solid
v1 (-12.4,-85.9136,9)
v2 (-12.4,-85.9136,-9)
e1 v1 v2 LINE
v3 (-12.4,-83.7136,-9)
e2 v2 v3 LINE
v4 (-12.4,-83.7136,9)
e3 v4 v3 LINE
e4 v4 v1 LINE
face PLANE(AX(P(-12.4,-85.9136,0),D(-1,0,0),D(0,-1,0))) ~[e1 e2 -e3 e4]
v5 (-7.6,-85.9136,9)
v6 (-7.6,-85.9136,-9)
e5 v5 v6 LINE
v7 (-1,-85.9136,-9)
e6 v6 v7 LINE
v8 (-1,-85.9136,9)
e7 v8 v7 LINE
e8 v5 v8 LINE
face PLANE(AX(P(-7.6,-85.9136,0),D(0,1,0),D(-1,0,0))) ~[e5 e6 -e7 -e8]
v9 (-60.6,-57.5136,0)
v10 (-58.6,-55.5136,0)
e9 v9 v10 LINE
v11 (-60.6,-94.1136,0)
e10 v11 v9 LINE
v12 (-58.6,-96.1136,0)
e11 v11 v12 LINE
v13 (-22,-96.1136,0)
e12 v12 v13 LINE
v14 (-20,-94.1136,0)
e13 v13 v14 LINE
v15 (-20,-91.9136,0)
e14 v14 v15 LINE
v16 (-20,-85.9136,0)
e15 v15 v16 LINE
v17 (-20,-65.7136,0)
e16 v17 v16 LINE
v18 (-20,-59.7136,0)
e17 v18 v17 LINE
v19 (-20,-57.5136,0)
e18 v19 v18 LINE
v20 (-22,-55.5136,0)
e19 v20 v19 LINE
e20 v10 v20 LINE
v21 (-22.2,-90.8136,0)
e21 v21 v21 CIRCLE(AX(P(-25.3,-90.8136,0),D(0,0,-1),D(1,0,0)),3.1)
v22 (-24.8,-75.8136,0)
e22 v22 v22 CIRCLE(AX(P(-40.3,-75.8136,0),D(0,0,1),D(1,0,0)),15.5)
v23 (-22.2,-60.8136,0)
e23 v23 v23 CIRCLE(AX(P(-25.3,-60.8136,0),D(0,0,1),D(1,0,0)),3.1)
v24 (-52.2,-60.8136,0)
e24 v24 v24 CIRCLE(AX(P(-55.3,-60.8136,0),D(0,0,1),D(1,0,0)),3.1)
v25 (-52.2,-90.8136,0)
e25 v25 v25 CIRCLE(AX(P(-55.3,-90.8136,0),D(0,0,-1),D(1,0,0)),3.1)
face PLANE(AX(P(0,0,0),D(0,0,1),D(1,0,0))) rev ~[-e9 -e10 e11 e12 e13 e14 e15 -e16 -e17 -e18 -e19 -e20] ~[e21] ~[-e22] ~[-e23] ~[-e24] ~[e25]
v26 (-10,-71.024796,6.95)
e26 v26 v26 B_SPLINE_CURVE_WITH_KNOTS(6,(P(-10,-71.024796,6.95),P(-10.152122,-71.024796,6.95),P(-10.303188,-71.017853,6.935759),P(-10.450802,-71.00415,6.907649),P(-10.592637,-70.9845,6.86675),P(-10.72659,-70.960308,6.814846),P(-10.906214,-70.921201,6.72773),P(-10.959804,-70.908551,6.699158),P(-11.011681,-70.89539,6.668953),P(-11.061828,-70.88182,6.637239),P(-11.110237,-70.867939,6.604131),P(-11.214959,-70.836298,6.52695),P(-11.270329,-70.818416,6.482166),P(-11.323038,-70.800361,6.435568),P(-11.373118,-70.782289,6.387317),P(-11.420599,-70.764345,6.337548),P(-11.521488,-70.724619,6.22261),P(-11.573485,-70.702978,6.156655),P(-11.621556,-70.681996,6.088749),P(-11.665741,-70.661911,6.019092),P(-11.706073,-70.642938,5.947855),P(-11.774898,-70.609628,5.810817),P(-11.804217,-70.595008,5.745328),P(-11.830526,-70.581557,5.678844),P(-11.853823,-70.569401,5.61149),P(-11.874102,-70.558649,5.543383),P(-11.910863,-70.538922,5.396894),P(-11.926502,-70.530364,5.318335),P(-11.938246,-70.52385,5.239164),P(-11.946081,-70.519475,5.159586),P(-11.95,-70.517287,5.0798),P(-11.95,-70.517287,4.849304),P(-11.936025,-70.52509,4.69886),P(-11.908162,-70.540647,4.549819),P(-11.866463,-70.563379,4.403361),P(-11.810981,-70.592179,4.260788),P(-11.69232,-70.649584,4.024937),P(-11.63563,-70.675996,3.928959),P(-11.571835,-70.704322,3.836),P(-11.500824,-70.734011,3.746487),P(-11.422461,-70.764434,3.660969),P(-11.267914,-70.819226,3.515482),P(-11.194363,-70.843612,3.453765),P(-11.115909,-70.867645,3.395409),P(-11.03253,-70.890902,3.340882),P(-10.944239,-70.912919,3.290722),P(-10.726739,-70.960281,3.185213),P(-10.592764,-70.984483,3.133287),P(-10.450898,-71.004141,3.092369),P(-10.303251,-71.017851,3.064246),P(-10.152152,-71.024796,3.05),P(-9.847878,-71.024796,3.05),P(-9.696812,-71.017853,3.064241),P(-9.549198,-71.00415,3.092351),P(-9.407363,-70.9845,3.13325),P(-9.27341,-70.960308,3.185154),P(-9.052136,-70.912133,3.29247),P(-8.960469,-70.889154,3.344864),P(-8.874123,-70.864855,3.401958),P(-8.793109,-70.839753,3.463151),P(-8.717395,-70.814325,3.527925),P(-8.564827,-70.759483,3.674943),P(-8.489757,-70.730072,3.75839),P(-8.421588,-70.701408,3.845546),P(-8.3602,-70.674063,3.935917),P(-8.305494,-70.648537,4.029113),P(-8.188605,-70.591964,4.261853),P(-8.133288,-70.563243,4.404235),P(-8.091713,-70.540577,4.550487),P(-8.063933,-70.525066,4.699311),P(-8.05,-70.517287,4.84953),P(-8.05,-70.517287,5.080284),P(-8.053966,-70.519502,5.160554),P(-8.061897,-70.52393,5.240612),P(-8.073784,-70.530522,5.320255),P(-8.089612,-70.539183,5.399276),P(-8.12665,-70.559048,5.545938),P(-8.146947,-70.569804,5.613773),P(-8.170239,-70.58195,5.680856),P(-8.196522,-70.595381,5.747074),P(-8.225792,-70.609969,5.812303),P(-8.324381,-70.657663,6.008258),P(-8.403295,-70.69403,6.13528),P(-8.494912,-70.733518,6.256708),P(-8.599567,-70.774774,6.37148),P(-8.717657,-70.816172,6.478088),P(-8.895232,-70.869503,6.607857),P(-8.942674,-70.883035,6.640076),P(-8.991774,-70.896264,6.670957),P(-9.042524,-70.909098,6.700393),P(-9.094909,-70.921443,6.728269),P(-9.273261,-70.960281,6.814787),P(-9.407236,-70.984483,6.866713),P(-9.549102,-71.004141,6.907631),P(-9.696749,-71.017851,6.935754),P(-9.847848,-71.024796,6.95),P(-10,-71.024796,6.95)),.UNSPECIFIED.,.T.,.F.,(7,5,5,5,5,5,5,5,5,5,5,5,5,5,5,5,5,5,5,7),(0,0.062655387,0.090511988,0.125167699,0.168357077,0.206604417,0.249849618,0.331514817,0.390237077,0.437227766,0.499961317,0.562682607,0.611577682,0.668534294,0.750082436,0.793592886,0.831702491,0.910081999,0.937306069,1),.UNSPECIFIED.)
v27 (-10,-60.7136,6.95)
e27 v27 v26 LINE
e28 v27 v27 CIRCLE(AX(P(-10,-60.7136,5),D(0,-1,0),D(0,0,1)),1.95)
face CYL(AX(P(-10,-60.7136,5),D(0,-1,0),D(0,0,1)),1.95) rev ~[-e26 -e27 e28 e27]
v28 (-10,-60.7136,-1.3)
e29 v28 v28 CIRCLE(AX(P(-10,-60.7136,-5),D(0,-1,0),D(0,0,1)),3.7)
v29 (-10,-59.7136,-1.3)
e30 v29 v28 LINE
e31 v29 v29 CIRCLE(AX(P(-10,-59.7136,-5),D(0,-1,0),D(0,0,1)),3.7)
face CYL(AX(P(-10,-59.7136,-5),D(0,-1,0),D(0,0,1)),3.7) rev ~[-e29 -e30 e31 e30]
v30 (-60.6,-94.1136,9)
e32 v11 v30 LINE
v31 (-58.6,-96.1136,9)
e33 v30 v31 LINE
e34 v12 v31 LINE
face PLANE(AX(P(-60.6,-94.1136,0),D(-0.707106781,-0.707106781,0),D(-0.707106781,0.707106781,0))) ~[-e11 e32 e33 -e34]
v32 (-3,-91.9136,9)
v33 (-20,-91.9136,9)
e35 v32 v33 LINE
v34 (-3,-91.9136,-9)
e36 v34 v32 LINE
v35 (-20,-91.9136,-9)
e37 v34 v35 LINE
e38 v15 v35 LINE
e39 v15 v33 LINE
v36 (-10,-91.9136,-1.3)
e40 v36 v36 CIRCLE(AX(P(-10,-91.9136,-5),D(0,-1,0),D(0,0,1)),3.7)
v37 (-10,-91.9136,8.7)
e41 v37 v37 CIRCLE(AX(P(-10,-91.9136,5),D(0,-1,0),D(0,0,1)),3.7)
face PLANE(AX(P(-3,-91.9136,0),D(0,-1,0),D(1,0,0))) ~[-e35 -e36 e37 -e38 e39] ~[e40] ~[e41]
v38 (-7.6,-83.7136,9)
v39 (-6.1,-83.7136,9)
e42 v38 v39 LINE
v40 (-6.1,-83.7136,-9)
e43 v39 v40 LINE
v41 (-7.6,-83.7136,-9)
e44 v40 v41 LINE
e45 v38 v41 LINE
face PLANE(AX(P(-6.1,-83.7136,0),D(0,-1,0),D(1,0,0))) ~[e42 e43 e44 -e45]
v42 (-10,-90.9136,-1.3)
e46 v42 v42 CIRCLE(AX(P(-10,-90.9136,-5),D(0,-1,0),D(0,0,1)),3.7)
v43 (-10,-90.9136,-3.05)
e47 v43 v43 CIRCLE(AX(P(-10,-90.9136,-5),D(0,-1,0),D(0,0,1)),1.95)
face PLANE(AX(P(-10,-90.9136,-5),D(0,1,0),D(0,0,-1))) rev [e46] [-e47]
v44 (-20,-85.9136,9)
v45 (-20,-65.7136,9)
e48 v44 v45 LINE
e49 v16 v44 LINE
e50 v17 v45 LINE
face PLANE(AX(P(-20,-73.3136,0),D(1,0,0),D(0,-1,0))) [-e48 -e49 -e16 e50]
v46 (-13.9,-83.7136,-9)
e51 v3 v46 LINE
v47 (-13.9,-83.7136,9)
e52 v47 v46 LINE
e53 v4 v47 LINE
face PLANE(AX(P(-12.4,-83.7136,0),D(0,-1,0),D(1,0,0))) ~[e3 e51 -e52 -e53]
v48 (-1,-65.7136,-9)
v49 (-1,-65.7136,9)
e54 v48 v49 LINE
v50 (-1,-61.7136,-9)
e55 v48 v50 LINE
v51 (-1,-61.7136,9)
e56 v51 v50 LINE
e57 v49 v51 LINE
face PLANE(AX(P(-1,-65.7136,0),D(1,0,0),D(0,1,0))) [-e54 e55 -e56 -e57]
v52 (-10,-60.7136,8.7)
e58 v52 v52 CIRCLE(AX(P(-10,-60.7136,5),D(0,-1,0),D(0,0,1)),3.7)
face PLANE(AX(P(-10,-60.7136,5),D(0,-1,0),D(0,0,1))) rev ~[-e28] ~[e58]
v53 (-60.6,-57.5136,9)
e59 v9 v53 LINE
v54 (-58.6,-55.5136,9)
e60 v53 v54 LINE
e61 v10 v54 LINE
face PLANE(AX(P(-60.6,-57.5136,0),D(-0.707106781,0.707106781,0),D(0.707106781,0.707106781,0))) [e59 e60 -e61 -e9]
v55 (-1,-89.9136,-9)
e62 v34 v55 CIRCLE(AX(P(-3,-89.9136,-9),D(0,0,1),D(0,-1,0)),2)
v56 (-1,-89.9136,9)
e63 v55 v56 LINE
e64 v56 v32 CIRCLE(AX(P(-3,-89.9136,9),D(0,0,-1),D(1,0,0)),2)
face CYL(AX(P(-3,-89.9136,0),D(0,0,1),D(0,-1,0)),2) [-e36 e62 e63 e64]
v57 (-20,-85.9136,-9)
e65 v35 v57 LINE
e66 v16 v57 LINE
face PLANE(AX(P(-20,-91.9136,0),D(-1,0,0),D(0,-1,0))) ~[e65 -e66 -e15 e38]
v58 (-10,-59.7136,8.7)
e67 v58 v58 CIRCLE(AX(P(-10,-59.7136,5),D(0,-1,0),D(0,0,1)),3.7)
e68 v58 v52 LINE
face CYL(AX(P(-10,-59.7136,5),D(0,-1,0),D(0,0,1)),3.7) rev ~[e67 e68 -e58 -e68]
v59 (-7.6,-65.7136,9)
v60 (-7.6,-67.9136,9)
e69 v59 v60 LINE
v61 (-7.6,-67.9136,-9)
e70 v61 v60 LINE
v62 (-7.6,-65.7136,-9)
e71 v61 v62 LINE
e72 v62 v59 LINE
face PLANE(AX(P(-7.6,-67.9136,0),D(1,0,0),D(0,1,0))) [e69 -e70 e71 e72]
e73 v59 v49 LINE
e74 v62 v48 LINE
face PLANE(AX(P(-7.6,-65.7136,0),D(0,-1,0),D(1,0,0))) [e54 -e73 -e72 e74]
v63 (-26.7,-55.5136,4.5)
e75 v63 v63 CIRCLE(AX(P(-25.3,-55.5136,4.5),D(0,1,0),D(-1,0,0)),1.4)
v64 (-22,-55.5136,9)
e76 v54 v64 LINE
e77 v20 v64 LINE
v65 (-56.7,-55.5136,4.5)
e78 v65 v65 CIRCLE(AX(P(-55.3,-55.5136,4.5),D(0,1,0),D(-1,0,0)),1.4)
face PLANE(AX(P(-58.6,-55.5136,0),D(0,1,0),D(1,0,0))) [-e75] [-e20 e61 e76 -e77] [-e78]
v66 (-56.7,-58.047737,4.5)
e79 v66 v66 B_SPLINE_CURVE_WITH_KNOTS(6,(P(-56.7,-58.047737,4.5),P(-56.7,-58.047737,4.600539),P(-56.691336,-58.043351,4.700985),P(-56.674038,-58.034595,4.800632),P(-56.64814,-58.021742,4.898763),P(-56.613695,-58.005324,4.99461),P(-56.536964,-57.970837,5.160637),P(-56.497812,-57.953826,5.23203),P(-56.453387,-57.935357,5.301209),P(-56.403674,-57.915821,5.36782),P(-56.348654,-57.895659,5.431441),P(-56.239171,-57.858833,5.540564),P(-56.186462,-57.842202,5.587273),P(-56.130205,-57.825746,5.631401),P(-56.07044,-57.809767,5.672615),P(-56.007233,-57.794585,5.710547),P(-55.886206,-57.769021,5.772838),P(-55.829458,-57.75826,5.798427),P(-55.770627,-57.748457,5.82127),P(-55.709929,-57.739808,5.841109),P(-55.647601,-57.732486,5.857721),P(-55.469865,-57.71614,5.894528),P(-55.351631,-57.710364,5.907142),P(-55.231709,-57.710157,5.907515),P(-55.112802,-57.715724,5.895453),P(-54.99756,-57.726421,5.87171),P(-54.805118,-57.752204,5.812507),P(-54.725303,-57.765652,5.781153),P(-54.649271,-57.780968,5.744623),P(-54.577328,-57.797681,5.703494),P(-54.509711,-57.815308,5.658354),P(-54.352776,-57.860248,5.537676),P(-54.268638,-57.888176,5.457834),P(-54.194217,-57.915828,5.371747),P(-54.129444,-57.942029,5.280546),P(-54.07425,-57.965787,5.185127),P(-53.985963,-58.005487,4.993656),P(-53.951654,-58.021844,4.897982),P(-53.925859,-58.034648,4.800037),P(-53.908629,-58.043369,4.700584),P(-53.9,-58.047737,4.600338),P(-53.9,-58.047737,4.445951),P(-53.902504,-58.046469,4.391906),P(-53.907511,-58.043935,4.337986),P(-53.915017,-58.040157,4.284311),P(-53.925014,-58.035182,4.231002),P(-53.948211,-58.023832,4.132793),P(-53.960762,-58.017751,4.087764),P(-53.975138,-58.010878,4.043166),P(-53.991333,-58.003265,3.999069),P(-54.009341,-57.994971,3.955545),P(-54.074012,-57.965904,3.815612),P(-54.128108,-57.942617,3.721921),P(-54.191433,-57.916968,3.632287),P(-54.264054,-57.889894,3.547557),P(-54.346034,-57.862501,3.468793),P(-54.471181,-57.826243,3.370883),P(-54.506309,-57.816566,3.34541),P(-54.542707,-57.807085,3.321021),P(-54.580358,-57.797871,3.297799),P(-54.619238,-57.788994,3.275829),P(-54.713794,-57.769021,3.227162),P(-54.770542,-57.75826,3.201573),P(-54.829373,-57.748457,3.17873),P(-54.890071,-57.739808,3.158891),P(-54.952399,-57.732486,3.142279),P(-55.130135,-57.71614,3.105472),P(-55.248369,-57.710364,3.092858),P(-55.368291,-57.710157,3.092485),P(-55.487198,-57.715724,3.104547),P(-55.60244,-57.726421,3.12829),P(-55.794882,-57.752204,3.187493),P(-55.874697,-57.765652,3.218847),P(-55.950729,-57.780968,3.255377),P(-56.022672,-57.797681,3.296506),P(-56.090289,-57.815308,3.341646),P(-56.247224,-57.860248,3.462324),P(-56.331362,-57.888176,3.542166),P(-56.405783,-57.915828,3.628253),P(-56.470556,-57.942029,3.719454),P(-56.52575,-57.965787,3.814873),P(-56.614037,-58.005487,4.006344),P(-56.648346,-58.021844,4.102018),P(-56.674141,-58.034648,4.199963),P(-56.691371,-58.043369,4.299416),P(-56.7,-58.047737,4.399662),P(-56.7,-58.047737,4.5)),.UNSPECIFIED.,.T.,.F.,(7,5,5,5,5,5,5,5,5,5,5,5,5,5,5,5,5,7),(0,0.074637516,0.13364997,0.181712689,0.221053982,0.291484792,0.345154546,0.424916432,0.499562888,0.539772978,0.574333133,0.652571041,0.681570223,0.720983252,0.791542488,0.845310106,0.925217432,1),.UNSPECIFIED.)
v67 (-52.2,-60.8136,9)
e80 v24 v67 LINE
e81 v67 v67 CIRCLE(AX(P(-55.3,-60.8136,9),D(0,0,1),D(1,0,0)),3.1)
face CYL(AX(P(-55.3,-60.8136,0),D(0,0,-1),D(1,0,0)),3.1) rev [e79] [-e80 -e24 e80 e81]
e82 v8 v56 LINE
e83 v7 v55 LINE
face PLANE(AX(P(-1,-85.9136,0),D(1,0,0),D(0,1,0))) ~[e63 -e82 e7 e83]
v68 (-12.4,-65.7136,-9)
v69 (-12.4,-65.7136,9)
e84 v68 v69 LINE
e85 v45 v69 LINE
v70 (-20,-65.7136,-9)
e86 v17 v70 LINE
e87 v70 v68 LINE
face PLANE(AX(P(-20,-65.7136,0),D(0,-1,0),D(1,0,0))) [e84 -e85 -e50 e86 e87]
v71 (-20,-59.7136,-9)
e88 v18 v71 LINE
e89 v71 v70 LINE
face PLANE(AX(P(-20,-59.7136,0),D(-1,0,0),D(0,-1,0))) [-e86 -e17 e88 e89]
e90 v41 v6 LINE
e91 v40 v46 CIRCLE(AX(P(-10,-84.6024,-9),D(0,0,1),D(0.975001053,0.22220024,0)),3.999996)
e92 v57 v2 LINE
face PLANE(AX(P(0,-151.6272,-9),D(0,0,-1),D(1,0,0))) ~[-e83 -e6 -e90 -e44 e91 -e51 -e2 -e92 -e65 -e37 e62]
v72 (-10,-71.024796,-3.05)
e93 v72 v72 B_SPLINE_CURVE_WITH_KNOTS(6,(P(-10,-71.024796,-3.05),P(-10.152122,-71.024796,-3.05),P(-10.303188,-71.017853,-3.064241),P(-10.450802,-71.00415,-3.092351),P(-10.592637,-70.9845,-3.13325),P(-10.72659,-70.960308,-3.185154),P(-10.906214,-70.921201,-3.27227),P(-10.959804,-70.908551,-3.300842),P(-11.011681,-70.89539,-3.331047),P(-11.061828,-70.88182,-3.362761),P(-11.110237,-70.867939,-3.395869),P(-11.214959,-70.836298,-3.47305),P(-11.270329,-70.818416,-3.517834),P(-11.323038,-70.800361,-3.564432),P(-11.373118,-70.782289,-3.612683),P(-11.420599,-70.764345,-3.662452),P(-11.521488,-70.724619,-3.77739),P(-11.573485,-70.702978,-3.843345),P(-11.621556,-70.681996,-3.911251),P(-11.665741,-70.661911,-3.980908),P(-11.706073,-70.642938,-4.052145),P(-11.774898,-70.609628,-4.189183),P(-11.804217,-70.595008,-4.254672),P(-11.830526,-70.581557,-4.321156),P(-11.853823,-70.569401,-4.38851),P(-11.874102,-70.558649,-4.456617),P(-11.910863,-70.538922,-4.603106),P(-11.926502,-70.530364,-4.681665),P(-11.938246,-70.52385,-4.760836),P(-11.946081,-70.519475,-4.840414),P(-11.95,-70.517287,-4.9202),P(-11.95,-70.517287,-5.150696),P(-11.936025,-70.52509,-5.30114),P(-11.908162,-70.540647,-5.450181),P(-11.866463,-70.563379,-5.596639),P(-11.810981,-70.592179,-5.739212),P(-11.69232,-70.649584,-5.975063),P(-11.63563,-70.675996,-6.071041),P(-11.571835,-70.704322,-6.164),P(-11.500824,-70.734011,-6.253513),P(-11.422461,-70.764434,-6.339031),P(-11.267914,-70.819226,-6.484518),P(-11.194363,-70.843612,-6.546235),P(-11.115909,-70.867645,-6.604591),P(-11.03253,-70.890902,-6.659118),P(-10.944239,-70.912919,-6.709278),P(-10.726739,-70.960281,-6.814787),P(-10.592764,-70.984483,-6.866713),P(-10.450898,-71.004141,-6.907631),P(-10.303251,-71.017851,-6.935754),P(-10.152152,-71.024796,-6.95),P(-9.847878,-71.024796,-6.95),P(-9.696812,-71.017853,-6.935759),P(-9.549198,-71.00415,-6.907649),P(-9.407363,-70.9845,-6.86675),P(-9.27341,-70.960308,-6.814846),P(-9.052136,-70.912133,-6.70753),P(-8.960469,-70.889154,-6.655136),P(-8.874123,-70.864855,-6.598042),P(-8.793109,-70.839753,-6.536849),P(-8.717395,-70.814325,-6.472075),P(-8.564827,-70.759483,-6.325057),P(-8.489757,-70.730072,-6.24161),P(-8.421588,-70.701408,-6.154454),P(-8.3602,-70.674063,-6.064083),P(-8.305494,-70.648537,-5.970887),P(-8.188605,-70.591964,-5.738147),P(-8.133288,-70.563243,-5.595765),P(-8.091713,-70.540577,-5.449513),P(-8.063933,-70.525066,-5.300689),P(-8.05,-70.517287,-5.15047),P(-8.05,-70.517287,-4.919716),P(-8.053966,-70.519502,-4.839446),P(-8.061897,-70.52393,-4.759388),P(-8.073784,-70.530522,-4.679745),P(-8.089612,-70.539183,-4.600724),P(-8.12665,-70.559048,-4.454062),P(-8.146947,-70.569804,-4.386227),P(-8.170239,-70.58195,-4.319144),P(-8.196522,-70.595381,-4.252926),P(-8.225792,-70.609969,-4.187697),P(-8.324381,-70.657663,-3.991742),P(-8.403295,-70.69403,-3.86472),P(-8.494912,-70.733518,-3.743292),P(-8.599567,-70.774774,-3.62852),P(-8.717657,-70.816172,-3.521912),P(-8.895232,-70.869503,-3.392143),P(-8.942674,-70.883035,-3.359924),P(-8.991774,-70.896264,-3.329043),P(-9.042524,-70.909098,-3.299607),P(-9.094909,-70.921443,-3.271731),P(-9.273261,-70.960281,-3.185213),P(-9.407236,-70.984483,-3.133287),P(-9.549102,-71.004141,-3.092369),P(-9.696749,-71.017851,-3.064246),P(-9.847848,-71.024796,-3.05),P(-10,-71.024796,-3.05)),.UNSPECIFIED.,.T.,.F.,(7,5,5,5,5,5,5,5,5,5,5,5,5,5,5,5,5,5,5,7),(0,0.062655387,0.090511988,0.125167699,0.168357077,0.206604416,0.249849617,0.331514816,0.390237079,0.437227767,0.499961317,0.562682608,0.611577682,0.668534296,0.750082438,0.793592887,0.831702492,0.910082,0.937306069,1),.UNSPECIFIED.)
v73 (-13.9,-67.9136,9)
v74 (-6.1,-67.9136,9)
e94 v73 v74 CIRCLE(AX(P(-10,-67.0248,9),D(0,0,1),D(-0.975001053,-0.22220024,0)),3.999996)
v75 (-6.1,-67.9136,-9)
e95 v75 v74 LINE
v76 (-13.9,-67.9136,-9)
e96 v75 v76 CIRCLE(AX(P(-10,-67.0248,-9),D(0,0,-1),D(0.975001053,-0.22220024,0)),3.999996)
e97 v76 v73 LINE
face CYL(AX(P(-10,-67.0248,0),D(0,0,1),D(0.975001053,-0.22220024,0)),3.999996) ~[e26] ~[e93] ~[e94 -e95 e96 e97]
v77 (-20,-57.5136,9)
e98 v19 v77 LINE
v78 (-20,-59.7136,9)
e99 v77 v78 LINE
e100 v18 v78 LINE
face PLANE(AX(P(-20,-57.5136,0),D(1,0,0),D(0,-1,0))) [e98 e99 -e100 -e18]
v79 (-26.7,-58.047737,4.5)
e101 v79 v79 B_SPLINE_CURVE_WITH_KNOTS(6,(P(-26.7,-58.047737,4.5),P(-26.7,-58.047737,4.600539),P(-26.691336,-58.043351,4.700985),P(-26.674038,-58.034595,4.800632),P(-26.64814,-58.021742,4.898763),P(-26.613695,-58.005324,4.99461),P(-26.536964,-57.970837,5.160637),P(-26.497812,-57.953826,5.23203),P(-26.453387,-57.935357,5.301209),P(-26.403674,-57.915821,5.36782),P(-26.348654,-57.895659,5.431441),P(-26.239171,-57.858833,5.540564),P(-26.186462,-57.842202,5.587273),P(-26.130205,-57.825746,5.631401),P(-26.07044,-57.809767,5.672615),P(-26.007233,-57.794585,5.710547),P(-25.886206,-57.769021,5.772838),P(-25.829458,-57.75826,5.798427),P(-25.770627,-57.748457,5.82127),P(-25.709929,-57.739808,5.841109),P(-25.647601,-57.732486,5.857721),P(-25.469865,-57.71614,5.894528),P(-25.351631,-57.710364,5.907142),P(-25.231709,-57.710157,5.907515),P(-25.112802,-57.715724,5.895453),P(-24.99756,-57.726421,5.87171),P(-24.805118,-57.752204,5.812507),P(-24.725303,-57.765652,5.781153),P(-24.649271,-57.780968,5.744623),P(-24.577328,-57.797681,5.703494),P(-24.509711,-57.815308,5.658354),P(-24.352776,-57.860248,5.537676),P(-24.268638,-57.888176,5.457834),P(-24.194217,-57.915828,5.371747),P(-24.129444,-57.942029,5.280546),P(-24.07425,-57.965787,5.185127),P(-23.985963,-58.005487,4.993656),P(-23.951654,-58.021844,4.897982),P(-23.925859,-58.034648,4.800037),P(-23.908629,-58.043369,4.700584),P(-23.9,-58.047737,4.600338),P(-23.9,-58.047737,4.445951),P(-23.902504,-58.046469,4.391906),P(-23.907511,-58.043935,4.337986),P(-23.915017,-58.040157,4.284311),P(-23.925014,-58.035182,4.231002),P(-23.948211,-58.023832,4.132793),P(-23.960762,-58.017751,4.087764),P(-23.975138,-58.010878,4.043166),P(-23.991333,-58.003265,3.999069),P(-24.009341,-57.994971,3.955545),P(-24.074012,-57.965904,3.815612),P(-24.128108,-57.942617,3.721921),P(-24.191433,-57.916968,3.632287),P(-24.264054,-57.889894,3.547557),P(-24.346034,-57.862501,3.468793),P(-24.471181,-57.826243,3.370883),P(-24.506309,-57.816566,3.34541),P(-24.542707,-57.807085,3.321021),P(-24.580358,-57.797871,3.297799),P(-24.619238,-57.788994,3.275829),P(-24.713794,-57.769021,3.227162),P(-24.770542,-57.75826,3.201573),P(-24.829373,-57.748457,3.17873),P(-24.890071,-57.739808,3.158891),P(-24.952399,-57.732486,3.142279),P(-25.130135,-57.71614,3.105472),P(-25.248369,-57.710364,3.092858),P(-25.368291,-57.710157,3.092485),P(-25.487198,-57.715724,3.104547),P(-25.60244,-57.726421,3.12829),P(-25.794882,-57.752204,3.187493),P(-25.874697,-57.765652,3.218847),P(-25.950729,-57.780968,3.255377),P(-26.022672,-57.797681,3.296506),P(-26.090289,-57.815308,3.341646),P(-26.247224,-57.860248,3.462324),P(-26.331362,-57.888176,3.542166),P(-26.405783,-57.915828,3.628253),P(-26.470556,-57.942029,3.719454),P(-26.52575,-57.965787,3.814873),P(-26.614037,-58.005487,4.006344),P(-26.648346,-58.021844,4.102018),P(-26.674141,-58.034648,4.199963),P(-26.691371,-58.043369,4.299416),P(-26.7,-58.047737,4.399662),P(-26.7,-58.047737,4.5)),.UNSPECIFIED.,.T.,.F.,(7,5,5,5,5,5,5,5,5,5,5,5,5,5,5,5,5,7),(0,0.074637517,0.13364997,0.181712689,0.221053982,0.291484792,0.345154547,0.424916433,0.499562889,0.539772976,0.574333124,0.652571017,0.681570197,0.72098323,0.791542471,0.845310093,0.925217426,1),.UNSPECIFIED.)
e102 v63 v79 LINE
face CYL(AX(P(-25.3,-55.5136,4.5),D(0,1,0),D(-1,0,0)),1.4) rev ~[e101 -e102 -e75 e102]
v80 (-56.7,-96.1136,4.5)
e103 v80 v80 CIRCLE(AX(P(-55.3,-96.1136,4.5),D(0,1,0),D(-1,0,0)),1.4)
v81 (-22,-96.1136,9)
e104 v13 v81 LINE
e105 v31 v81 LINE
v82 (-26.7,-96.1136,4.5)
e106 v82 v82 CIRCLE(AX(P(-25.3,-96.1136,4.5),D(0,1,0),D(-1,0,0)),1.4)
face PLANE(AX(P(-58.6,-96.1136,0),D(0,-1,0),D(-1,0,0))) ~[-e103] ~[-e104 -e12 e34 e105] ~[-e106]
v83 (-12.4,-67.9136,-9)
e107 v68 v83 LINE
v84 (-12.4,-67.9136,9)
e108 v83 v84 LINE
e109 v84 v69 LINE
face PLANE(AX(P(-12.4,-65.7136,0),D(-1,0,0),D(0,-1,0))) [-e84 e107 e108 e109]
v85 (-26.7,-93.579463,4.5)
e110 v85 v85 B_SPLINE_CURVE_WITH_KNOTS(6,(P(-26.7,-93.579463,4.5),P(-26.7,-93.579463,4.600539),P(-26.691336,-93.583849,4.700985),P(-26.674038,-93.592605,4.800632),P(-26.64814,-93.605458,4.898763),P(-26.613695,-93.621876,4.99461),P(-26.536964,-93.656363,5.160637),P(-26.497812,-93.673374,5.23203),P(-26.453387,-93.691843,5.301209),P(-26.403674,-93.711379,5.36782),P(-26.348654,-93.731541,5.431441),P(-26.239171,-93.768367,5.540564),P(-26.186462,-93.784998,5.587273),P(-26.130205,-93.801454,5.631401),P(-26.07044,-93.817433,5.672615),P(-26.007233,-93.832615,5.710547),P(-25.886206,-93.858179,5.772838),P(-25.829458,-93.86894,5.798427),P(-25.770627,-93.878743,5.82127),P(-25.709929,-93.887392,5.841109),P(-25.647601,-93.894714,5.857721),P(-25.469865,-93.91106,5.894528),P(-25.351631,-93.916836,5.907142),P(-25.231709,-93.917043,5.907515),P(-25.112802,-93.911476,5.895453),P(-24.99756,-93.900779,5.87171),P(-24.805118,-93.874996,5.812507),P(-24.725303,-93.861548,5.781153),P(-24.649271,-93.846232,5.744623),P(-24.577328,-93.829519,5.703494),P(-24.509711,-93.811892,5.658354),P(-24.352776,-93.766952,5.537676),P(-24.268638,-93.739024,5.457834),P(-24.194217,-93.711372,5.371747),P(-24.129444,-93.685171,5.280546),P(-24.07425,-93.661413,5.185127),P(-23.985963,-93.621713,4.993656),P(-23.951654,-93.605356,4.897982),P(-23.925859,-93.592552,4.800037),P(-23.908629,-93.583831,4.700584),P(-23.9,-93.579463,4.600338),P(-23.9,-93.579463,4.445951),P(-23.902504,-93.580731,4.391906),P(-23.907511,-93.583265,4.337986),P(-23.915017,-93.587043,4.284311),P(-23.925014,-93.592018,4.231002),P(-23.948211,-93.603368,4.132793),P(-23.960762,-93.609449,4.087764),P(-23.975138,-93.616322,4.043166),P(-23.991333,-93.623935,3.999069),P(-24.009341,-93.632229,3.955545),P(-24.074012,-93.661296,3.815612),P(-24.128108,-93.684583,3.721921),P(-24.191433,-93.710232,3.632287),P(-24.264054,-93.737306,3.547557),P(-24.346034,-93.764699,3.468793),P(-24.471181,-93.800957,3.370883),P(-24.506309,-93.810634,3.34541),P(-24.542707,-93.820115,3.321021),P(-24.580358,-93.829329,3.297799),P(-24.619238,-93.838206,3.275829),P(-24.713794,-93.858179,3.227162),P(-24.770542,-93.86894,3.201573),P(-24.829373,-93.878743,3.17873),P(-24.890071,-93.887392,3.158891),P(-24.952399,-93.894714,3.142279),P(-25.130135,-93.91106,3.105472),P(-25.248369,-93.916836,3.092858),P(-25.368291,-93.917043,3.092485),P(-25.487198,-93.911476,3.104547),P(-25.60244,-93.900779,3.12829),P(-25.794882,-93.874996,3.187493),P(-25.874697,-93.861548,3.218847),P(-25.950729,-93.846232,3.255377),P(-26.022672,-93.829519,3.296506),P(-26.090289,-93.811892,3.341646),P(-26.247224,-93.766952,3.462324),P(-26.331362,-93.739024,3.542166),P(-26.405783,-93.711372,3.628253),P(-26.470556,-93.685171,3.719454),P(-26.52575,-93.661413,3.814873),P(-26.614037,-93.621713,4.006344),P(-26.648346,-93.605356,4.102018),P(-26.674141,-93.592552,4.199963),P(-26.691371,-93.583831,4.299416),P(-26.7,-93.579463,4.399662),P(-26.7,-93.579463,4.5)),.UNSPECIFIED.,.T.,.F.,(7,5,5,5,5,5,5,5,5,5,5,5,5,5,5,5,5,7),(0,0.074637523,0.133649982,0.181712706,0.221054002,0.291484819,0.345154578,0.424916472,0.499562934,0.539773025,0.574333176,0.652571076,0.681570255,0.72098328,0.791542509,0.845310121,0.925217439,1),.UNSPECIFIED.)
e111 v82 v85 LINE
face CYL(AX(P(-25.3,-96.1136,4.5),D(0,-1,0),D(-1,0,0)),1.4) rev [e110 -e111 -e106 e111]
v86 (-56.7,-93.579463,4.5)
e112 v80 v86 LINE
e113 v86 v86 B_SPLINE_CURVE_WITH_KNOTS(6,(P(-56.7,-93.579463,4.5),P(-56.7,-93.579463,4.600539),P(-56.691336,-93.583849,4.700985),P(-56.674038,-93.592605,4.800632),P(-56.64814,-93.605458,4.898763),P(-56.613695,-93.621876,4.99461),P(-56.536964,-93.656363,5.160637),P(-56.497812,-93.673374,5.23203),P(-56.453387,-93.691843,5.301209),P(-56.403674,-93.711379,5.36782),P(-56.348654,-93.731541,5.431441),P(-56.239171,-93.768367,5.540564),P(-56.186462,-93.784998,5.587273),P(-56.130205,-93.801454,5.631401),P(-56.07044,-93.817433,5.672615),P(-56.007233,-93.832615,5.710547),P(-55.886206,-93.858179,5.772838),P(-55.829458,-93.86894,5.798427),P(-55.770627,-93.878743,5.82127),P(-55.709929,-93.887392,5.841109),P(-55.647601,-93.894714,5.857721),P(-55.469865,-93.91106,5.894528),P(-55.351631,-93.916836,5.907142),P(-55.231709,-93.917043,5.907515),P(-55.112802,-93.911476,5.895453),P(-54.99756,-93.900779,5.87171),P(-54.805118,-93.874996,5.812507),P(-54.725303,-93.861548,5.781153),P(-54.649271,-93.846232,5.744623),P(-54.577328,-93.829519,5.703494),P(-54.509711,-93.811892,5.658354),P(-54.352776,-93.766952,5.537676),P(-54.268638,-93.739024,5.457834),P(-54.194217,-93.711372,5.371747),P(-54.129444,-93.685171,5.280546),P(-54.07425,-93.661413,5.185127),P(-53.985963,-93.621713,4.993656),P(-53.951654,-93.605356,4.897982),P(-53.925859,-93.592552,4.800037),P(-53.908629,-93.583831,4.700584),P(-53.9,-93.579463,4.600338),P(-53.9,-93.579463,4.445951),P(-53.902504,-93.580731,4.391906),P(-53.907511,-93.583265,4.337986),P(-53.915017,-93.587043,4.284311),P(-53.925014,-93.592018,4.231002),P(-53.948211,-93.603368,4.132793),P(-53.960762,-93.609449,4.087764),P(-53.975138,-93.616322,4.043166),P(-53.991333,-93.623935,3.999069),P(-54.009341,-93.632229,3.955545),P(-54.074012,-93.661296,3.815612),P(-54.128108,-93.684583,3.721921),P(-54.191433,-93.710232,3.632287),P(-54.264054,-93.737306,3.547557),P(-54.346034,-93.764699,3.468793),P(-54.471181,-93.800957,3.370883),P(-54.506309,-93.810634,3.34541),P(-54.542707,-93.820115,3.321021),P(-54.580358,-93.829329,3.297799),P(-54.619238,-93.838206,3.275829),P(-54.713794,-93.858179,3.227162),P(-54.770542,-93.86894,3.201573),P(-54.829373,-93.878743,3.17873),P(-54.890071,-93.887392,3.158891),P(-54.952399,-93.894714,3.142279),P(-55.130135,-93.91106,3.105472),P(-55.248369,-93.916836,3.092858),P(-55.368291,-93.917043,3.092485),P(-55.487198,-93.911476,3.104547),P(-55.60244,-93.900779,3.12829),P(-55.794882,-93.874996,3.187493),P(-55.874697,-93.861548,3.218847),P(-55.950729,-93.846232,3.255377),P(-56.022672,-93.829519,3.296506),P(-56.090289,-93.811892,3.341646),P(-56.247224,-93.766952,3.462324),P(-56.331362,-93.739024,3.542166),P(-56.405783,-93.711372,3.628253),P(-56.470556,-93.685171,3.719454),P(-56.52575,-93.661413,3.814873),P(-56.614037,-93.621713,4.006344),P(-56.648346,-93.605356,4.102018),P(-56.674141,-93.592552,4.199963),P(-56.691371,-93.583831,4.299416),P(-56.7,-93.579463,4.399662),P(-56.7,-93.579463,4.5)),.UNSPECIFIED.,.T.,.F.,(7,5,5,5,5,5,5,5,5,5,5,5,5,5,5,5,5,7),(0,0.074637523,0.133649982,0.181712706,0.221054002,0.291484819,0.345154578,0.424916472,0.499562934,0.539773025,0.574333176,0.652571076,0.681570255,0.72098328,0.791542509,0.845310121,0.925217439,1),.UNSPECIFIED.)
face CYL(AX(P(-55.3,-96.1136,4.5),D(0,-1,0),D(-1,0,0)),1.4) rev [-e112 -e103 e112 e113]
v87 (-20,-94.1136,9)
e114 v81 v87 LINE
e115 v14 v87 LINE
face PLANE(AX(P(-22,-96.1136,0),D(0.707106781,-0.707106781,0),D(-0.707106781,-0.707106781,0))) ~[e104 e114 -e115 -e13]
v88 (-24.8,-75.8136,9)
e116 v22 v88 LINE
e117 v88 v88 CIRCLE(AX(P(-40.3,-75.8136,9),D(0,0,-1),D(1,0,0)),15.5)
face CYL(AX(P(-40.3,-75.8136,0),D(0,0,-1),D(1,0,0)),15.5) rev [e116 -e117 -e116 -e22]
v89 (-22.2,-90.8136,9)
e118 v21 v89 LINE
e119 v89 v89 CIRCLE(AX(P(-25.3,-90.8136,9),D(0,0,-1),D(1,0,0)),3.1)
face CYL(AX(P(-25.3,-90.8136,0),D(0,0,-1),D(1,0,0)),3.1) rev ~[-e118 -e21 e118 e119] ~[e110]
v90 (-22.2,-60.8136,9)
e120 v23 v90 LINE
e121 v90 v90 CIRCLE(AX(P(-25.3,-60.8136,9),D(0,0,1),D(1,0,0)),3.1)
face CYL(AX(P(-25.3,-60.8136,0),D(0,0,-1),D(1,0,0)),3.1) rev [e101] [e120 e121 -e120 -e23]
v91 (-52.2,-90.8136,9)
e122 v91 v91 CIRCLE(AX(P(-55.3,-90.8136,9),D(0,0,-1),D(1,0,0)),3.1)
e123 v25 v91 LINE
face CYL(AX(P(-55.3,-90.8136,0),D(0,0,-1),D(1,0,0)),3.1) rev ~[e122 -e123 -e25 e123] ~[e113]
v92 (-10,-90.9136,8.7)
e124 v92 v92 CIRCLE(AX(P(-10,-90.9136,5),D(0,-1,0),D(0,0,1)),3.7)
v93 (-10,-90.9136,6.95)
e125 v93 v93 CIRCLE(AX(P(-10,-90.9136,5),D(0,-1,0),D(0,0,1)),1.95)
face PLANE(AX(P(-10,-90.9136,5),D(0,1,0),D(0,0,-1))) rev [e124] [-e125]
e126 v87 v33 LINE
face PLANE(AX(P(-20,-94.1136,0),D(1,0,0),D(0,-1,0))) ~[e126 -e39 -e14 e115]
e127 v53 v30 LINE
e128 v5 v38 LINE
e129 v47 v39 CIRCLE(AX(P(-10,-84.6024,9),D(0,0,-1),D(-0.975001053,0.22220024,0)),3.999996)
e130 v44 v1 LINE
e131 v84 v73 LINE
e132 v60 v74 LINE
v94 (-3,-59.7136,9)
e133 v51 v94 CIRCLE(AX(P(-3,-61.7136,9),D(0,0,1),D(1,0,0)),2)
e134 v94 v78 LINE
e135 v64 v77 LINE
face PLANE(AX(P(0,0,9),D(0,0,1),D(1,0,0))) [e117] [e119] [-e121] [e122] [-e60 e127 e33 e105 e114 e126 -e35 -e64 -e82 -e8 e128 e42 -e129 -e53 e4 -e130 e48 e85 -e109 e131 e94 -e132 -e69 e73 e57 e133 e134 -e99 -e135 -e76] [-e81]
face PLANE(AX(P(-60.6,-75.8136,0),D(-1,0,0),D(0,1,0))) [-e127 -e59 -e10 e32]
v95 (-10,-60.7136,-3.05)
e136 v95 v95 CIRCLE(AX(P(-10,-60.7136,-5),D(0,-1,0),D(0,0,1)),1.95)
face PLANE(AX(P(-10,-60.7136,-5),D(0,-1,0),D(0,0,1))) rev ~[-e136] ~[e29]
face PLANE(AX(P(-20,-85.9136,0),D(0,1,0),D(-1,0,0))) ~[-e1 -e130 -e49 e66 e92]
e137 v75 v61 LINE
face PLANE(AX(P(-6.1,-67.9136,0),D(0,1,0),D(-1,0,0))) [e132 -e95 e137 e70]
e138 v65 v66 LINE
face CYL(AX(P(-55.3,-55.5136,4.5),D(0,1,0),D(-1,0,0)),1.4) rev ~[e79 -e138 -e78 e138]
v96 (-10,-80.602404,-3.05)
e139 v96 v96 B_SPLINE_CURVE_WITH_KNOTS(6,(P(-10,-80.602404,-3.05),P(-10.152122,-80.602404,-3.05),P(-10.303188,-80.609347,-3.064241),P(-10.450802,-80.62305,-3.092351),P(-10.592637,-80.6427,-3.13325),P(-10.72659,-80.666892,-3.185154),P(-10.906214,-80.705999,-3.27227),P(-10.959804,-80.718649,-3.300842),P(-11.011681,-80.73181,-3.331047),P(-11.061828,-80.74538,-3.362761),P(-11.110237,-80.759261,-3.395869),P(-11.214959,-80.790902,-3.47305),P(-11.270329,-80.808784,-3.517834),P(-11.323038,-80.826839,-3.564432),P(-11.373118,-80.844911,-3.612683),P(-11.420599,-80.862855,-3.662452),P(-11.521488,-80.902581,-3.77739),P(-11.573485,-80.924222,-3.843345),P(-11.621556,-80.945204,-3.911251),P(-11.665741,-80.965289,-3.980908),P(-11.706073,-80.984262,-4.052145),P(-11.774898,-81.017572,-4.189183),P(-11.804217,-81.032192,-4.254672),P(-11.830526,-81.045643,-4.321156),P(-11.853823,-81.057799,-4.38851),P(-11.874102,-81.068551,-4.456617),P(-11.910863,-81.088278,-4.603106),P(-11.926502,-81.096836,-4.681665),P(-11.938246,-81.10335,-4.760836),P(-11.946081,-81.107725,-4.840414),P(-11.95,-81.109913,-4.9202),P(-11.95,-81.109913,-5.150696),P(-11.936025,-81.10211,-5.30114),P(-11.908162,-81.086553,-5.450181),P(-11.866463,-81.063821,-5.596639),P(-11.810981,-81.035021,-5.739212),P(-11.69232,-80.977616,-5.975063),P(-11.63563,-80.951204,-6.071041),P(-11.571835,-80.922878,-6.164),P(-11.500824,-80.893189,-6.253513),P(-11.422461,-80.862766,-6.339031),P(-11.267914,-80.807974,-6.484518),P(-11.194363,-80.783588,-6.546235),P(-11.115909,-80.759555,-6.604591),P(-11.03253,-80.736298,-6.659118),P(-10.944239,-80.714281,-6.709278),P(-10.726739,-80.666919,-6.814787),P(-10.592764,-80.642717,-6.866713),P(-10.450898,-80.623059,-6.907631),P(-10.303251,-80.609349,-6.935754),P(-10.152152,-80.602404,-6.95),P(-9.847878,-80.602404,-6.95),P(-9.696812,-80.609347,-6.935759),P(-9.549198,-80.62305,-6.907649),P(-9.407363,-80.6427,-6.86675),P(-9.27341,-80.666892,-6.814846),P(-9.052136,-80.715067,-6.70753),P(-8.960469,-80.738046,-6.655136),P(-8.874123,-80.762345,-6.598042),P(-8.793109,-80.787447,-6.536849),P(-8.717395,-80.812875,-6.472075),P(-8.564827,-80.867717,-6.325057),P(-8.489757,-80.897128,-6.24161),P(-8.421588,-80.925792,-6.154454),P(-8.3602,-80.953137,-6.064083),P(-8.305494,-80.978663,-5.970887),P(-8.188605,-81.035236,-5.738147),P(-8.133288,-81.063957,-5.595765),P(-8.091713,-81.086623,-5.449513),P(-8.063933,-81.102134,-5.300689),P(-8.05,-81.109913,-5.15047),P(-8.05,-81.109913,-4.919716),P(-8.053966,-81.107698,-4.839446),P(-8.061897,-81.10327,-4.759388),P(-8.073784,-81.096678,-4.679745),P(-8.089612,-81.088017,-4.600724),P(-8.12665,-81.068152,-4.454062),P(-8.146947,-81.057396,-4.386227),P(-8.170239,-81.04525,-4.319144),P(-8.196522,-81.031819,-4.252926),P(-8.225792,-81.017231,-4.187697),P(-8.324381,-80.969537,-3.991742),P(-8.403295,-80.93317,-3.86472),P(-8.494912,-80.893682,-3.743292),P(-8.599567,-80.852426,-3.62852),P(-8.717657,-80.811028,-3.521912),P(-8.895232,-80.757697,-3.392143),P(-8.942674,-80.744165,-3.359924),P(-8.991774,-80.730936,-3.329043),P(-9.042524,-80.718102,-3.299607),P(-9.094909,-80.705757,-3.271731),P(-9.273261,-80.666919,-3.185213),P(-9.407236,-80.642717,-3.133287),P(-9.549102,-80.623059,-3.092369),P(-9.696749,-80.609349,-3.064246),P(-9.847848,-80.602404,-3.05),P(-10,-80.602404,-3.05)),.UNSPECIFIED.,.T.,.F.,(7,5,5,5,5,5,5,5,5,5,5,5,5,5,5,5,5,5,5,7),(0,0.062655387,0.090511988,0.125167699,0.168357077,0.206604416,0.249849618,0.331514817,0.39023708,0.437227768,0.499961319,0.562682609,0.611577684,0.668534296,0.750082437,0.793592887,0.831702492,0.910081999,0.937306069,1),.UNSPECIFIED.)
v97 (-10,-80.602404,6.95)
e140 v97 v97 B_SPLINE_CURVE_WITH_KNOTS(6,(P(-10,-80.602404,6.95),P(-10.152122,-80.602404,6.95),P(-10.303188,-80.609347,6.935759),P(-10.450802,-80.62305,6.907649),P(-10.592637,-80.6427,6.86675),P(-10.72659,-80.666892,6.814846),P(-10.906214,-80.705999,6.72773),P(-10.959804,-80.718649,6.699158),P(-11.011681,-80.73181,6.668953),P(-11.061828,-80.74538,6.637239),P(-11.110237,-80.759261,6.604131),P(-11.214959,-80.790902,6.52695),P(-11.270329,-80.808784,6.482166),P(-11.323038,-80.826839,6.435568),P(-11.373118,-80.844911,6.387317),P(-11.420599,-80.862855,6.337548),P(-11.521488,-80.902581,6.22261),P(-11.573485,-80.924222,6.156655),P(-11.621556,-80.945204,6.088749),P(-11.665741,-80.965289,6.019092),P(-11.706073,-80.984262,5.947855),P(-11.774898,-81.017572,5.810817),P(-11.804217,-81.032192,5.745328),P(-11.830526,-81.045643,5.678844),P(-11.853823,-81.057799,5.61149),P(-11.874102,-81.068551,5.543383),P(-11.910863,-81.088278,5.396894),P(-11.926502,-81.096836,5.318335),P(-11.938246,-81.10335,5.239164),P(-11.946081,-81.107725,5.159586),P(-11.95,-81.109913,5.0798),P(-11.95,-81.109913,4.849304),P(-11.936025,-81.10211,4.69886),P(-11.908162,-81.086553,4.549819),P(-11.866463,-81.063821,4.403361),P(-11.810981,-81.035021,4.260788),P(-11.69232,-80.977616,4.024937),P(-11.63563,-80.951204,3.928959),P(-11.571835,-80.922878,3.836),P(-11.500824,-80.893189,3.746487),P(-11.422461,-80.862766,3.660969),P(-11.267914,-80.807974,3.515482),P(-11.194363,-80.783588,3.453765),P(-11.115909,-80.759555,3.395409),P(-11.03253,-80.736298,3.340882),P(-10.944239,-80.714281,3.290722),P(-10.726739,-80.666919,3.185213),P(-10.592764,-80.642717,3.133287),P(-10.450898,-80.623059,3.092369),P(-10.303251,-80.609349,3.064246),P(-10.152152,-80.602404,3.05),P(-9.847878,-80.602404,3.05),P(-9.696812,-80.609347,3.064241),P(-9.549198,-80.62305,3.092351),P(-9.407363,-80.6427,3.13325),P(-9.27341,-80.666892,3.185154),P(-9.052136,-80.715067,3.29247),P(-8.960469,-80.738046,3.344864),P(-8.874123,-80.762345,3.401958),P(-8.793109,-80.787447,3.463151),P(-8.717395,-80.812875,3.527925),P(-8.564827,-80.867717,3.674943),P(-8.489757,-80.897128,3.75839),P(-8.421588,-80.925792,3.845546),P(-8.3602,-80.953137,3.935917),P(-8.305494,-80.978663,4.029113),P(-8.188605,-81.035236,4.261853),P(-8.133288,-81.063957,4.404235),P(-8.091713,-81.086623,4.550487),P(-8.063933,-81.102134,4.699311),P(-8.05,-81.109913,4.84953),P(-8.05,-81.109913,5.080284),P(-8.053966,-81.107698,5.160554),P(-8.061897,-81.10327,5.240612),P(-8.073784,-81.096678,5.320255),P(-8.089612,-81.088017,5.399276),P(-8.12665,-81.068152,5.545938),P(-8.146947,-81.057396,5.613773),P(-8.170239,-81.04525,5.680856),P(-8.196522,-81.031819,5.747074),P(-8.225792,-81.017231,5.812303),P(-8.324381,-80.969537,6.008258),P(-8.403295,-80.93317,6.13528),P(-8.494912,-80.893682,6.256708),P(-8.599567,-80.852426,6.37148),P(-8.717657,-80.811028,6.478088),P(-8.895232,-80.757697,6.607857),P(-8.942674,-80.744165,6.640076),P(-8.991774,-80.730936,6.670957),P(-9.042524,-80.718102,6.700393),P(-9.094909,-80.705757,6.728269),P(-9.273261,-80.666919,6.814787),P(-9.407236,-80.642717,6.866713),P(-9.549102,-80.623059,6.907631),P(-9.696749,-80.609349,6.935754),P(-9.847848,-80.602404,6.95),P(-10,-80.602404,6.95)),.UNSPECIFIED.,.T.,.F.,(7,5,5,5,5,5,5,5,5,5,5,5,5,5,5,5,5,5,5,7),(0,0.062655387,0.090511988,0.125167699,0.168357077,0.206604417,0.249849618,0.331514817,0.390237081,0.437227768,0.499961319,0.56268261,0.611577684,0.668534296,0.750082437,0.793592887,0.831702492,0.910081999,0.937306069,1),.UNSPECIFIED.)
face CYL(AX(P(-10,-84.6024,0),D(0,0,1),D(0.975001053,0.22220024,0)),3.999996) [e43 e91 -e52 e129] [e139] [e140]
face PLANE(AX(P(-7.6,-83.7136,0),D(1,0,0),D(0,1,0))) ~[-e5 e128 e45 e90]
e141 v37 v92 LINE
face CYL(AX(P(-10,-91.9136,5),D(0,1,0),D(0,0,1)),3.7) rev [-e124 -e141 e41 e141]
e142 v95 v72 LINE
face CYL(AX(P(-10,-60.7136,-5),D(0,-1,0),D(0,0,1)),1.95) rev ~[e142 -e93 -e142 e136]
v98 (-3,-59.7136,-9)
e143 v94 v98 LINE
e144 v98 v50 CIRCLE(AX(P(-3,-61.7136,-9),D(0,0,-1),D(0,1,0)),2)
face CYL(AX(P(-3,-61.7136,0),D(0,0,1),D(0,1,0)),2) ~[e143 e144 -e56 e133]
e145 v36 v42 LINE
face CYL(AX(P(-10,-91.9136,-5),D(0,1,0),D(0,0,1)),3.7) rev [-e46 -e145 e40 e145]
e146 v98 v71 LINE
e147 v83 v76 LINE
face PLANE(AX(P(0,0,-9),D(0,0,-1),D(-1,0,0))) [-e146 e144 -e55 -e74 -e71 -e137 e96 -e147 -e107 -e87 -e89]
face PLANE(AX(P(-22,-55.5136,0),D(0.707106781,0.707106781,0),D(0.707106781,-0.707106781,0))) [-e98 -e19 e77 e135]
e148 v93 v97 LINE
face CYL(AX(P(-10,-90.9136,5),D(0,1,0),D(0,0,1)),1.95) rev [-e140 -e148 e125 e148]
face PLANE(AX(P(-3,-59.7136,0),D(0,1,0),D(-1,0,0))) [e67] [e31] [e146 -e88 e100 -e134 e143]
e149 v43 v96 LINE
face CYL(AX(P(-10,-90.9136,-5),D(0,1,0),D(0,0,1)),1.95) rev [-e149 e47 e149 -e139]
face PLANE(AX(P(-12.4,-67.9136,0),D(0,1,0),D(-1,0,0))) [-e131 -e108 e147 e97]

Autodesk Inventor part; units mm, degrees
ref_plane "YZ Plane" through (0, 0, 0) normal (1, 0, 0) x (0, 1, 0)
ref_plane "XZ Plane" through (0, 0, 0) normal (0, 1, 0) x (-1, 0, 0)
ref_plane "XY Plane" through (0, 0, 0) normal (0, 0, 1) x (1, 0, 0)
sketch "Sketch1" plane through (0, 0, 0) normal (0, 0, 1) x (1, 0, 0)
  line L0 (-20, -85.8136) -> (-20, -78.3136) projected
  line L1 (-20, -78.3136) -> (-18.5, -78.3136) projected
  line L2 (-18.5, -78.3136) -> (-18.5, -82.5636) projected
  line L3 (-18.5, -82.5636) -> (-17.8462, -82.5636) projected
  line L4 (-17.8462, -82.5636) -> (-14, -78.7175) projected
  line L5 (-14, -78.7175) -> (-14, -72.9098) projected
  line L6 (-14, -72.9098) -> (-17.8462, -69.0636) projected
  line L7 (-17.8462, -69.0636) -> (-18.5, -69.0636) projected
  line L8 (-18.5, -69.0636) -> (-18.5, -73.3136) projected
  line L9 (-18.5, -73.3136) -> (-20, -73.3136) projected
  line L10 (-20, -73.3136) -> (-20, -65.8136) projected
  line L11 (-20, -65.8136) -> (-12.5, -65.8136) projected
  line L12 (-12.5, -65.8136) -> (-12.5, -67.3136) projected
  line L13 (-12.5, -67.3136) -> (-16.75, -67.3136) projected
  line L14 (-16.75, -67.3136) -> (-16.75, -68.0385) projected
  line L15 (-16.75, -68.0385) -> (-12.9748, -71.8136) projected
  line L16 (-12.9748, -71.8136) -> (-7.0252, -71.8136) projected
  line L17 (-7.0252, -71.8136) -> (-3.25, -68.0385) projected
  line L18 (-3.25, -68.0385) -> (-3.25, -67.3136) projected
  line L19 (-3.25, -67.3136) -> (-7.5, -67.3136) projected
  line L20 (-7.5, -67.3136) -> (-7.5, -65.8136) projected
  line L21 (-7.5, -65.8136) -> (0, -65.8136) projected
  line L22 (0, -65.8136) -> (0, -73.3136) projected
  line L23 (0, -73.3136) -> (-1.5, -73.3136) projected
  line L24 (-1.5, -73.3136) -> (-1.5, -69.0636) projected
  line L25 (-1.5, -69.0636) -> (-2.1538, -69.0636) projected
  line L26 (-2.1538, -69.0636) -> (-6, -72.9098) projected
  line L27 (-6, -72.9098) -> (-6, -78.7175) projected
  line L28 (-6, -78.7175) -> (-2.1538, -82.5636) projected
  line L29 (-2.1538, -82.5636) -> (-1.5, -82.5636) projected
  line L30 (-1.5, -82.5636) -> (-1.5, -78.3136) projected
  line L31 (-1.5, -78.3136) -> (0, -78.3136) projected
  line L32 (0, -78.3136) -> (0, -85.8136) projected
  line L33 (0, -85.8136) -> (-7.5, -85.8136) projected
  line L34 (-7.5, -85.8136) -> (-7.5, -84.3136) projected
  line L35 (-7.5, -84.3136) -> (-3.25, -84.3136) projected
  line L36 (-3.25, -84.3136) -> (-3.25, -83.5888) projected
  line L37 (-3.25, -83.5888) -> (-7.0252, -79.8136) projected
  line L38 (-7.0252, -79.8136) -> (-12.9748, -79.8136) projected
  line L39 (-12.9748, -79.8136) -> (-16.75, -83.5888) projected
  line L40 (-16.75, -83.5888) -> (-16.75, -84.3136) projected
  line L41 (-16.75, -84.3136) -> (-12.5, -84.3136) projected
  line L42 (-12.5, -84.3136) -> (-12.5, -85.8136) projected
  line L43 (-12.5, -85.8136) -> (-20, -85.8136) projected
  circle A0 centre (-10, -75.8136) radius 2.15 projected
  line L44 (-12.4, -65.7136) -> (-7.6, -65.7136)
  line L45 (-7.6, -65.7136) -> (-7.6, -67.9136)
  line L46 (-7.6, -67.9136) -> (-12.4, -67.9136)
  line L47 (-12.4, -67.9136) -> (-12.4, -65.7136)
  line L48 (-12.4, -67.9136) -> (-13.9, -67.9136)
  line L49 (-7.6, -67.9136) -> (-6.1, -67.9136)
  arc A1 (-13.9, -67.9136) -> (-6.1, -67.9136) centre (-10, -67.0248) ccw
  line L50 (-20, -65.8136) -> (-20, -59.8136)
  line L51 (-14, -75.8136) -> (-32.3565, -75.8136)
  line L52 (-20, -75.8136) -> (-60.6, -75.8136)
  line L53 (-60.6, -75.8136) -> (-60.6, -57.5136)
  line L54 (-58.6, -55.5136) -> (-22, -55.5136)
  line L55 (-20, -57.5136) -> (-20, -75.8136)
  line L56 (-22, -55.5136) -> (-20, -57.5136)
  line L57 (-60.6, -57.5136) -> (-58.6, -55.5136)
  arc A2 (-24.8, -75.8136) -> (-55.8, -75.8136) centre (-40.3, -75.8136) ccw
  circle A3 centre (-55.3, -60.8136) radius 3.1
  circle A4 centre (-25.3, -60.8136) radius 3.1
  line L58 (-20, -65.7136) -> (-1, -65.7136)
  line L59 (-1, -65.7136) -> (-1, -61.7136)
  line L60 (-3, -59.7136) -> (-20, -59.7136)
  line L61 (-20, -59.7136) -> (-20, -65.7136)
  arc A5 (-1, -61.7136) -> (-3, -59.7136) centre (-3, -61.7136) ccw
  point P0 (0, 0)
  point P1 (-1, -65.8136)
  point P2 (-1, -59.8136)
  point P3 (-60.6, -55.5136)
  point P4 (-20, -55.5136)
  point P5 (-1, -59.7136)
  dimension "d3" = 4.8
  dimension "d4" = 2.2
  dimension "d6" = 0.1
  dimension "d7" = 1.5
  dimension "d8" = 1.5
  dimension "d9" = 4
  dimension "d10" = 19
  dimension "d11" = 6
  dimension "d15" = 40.6
  dimension "d16" = 20.3
  dimension "d17" = 2
  dimension "d18" = 2
  dimension "d19" = 2
  dimension "d20" = 2
  dimension "d21" = 31
  dimension "d22" = 6.2
  dimension "d23" = 5.3
  dimension "d24" = 5.3
  dimension "d25" = 6.2
  dimension "d26" = 5.3
  dimension "d27" = 5.3
  dimension "d32" = 0.6
  dimension "d33" = 19
  dimension "d34" = 6
  dimension "d35" = 2
extrude "Extrusion1" add sketch "Sketch1" along normal blind 9 contours L51 A2 L52 L53 L57 L54 L56 L55 L50 L10 | L50 L55 L60 A5 L59 L58 L44 | L44 L45 L46 L47 | L46 L49 A1 L48
sketch "Sketch4" plane through (0, 0, 0) normal (0, 0, -1) x (-1, 0, 0)
  line L0 (22, -55.5136) -> (58.6, -55.5136) projected
  line L1 (20, -57.5136) -> (22, -55.5136) projected
  line L2 (20, -59.7136) -> (20, -57.5136) projected
  line L3 (3, -59.7136) -> (20, -59.7136) projected
  arc A0 (3, -59.7136) -> (1, -61.7136) centre (3, -61.7136) ccw projected
  line L4 (1, -65.7136) -> (1, -61.7136) projected
  line L5 (7.6, -65.7136) -> (1, -65.7136) projected
  line L6 (7.6, -67.9136) -> (7.6, -65.7136) projected
  line L7 (6.1, -67.9136) -> (7.6, -67.9136) projected
  arc A1 (6.1, -67.9136) -> (13.9, -67.9136) centre (10, -67.0248) ccw projected
  line L8 (12.4, -67.9136) -> (13.9, -67.9136) projected
  line L9 (12.4, -65.7136) -> (12.4, -67.9136) projected
  line L10 (20, -65.7136) -> (12.4, -65.7136) projected
  line L11 (20, -75.8136) -> (20, -65.7136) projected
  line L12 (24.8, -75.8136) -> (20, -75.8136) projected
  arc A2 (55.8, -75.8136) -> (24.8, -75.8136) centre (40.3, -75.8136) ccw projected
  line L13 (60.6, -75.8136) -> (55.8, -75.8136) projected
  line L14 (60.6, -57.5136) -> (60.6, -75.8136) projected
  line L15 (58.6, -55.5136) -> (60.6, -57.5136) projected
  circle A3 centre (25.3, -60.8136) radius 3.1 projected
  circle A4 centre (55.3, -60.8136) radius 3.1 projected
  line L16 (20, -59.7136) -> (20, -57.5136) projected
  line L17 (20, -75.8136) -> (20, -65.7136) projected
  line L18 (20, -59.7136) -> (20, -65.7136)
  point P0 (0, 0)
extrude "Extrusion3" add sketch "Sketch4" along normal blind 9 contours L18 L10 L9 L8 A1 L7 L6 L5 L4 A0 L3
sketch "Sketch5" plane through (-20, -59.7136, 9) normal (0, 1, 0) x (1, 0, 0)
  line L0 (6.1, 18) -> (6.1, 0) projected
  line L1 (13.9, 18) -> (13.9, 0) projected
  circle A0 centre (10, 4) radius 1.95
  circle A1 centre (10, 14) radius 1.95
  line L2 (0, 18) -> (17, 18) projected
  line L3 (17, 0) -> (0, 0) projected
  point P0 (20, 9)
  dimension "d38" = 3.9
  dimension "d39" = 3.9
  dimension "d40" = 3.9
  dimension "d41" = 3.9
  dimension "d42" = 4
  dimension "d43" = 4
hole "Hole1" at (-10, -59.7136, 5) at (-10, -59.7136, -5) direction (0, -1, 0) diameter 3.9 end through all counterbore diameter 7.4 counterbore depth 1
sketch "Sketch6" plane through (0, -55.5136, 0) normal (0, 1, 0) x (-1, 0, 0)
  line L0 (52.2, 9) -> (58.4, 9) projected
  line L1 (52.2, 0) -> (58.4, 0) projected
  line L2 (22.2, 9) -> (28.4, 9) projected
  line L3 (22.2, 0) -> (28.4, 0) projected
  circle A0 centre (55.3, 4.5) radius 1.4
  circle A1 centre (25.3, 4.5) radius 1.4
  line L4 (52.2, 9) -> (58.4, 9) projected
  line L5 (58.6, 0) -> (58.6, 9)
  line L6 (58.4, 9) -> (58.4, 0)
  line L7 (22, 9) -> (58.6, 9) projected
  point P0 (0, 0)
  dimension "d51" = 2.8
  dimension "d52" = 2.8
  dimension "d53" = 4.5
  dimension "d54" = 4.5
extrude "Extrusion4" cut sketch "Sketch6" against normal blind 4
mirror "Mirror1" about plane through (-60.6, -75.8136, 0) normal (0, -1, 0) of "Extrusion1", "Extrusion3", "Hole1", "Extrusion4"
equation "\"d18\" = d17"
equation "\"d19\" = d17"
equation "\"d20\" = d19"
properties part number "Rain_LensHolder"
